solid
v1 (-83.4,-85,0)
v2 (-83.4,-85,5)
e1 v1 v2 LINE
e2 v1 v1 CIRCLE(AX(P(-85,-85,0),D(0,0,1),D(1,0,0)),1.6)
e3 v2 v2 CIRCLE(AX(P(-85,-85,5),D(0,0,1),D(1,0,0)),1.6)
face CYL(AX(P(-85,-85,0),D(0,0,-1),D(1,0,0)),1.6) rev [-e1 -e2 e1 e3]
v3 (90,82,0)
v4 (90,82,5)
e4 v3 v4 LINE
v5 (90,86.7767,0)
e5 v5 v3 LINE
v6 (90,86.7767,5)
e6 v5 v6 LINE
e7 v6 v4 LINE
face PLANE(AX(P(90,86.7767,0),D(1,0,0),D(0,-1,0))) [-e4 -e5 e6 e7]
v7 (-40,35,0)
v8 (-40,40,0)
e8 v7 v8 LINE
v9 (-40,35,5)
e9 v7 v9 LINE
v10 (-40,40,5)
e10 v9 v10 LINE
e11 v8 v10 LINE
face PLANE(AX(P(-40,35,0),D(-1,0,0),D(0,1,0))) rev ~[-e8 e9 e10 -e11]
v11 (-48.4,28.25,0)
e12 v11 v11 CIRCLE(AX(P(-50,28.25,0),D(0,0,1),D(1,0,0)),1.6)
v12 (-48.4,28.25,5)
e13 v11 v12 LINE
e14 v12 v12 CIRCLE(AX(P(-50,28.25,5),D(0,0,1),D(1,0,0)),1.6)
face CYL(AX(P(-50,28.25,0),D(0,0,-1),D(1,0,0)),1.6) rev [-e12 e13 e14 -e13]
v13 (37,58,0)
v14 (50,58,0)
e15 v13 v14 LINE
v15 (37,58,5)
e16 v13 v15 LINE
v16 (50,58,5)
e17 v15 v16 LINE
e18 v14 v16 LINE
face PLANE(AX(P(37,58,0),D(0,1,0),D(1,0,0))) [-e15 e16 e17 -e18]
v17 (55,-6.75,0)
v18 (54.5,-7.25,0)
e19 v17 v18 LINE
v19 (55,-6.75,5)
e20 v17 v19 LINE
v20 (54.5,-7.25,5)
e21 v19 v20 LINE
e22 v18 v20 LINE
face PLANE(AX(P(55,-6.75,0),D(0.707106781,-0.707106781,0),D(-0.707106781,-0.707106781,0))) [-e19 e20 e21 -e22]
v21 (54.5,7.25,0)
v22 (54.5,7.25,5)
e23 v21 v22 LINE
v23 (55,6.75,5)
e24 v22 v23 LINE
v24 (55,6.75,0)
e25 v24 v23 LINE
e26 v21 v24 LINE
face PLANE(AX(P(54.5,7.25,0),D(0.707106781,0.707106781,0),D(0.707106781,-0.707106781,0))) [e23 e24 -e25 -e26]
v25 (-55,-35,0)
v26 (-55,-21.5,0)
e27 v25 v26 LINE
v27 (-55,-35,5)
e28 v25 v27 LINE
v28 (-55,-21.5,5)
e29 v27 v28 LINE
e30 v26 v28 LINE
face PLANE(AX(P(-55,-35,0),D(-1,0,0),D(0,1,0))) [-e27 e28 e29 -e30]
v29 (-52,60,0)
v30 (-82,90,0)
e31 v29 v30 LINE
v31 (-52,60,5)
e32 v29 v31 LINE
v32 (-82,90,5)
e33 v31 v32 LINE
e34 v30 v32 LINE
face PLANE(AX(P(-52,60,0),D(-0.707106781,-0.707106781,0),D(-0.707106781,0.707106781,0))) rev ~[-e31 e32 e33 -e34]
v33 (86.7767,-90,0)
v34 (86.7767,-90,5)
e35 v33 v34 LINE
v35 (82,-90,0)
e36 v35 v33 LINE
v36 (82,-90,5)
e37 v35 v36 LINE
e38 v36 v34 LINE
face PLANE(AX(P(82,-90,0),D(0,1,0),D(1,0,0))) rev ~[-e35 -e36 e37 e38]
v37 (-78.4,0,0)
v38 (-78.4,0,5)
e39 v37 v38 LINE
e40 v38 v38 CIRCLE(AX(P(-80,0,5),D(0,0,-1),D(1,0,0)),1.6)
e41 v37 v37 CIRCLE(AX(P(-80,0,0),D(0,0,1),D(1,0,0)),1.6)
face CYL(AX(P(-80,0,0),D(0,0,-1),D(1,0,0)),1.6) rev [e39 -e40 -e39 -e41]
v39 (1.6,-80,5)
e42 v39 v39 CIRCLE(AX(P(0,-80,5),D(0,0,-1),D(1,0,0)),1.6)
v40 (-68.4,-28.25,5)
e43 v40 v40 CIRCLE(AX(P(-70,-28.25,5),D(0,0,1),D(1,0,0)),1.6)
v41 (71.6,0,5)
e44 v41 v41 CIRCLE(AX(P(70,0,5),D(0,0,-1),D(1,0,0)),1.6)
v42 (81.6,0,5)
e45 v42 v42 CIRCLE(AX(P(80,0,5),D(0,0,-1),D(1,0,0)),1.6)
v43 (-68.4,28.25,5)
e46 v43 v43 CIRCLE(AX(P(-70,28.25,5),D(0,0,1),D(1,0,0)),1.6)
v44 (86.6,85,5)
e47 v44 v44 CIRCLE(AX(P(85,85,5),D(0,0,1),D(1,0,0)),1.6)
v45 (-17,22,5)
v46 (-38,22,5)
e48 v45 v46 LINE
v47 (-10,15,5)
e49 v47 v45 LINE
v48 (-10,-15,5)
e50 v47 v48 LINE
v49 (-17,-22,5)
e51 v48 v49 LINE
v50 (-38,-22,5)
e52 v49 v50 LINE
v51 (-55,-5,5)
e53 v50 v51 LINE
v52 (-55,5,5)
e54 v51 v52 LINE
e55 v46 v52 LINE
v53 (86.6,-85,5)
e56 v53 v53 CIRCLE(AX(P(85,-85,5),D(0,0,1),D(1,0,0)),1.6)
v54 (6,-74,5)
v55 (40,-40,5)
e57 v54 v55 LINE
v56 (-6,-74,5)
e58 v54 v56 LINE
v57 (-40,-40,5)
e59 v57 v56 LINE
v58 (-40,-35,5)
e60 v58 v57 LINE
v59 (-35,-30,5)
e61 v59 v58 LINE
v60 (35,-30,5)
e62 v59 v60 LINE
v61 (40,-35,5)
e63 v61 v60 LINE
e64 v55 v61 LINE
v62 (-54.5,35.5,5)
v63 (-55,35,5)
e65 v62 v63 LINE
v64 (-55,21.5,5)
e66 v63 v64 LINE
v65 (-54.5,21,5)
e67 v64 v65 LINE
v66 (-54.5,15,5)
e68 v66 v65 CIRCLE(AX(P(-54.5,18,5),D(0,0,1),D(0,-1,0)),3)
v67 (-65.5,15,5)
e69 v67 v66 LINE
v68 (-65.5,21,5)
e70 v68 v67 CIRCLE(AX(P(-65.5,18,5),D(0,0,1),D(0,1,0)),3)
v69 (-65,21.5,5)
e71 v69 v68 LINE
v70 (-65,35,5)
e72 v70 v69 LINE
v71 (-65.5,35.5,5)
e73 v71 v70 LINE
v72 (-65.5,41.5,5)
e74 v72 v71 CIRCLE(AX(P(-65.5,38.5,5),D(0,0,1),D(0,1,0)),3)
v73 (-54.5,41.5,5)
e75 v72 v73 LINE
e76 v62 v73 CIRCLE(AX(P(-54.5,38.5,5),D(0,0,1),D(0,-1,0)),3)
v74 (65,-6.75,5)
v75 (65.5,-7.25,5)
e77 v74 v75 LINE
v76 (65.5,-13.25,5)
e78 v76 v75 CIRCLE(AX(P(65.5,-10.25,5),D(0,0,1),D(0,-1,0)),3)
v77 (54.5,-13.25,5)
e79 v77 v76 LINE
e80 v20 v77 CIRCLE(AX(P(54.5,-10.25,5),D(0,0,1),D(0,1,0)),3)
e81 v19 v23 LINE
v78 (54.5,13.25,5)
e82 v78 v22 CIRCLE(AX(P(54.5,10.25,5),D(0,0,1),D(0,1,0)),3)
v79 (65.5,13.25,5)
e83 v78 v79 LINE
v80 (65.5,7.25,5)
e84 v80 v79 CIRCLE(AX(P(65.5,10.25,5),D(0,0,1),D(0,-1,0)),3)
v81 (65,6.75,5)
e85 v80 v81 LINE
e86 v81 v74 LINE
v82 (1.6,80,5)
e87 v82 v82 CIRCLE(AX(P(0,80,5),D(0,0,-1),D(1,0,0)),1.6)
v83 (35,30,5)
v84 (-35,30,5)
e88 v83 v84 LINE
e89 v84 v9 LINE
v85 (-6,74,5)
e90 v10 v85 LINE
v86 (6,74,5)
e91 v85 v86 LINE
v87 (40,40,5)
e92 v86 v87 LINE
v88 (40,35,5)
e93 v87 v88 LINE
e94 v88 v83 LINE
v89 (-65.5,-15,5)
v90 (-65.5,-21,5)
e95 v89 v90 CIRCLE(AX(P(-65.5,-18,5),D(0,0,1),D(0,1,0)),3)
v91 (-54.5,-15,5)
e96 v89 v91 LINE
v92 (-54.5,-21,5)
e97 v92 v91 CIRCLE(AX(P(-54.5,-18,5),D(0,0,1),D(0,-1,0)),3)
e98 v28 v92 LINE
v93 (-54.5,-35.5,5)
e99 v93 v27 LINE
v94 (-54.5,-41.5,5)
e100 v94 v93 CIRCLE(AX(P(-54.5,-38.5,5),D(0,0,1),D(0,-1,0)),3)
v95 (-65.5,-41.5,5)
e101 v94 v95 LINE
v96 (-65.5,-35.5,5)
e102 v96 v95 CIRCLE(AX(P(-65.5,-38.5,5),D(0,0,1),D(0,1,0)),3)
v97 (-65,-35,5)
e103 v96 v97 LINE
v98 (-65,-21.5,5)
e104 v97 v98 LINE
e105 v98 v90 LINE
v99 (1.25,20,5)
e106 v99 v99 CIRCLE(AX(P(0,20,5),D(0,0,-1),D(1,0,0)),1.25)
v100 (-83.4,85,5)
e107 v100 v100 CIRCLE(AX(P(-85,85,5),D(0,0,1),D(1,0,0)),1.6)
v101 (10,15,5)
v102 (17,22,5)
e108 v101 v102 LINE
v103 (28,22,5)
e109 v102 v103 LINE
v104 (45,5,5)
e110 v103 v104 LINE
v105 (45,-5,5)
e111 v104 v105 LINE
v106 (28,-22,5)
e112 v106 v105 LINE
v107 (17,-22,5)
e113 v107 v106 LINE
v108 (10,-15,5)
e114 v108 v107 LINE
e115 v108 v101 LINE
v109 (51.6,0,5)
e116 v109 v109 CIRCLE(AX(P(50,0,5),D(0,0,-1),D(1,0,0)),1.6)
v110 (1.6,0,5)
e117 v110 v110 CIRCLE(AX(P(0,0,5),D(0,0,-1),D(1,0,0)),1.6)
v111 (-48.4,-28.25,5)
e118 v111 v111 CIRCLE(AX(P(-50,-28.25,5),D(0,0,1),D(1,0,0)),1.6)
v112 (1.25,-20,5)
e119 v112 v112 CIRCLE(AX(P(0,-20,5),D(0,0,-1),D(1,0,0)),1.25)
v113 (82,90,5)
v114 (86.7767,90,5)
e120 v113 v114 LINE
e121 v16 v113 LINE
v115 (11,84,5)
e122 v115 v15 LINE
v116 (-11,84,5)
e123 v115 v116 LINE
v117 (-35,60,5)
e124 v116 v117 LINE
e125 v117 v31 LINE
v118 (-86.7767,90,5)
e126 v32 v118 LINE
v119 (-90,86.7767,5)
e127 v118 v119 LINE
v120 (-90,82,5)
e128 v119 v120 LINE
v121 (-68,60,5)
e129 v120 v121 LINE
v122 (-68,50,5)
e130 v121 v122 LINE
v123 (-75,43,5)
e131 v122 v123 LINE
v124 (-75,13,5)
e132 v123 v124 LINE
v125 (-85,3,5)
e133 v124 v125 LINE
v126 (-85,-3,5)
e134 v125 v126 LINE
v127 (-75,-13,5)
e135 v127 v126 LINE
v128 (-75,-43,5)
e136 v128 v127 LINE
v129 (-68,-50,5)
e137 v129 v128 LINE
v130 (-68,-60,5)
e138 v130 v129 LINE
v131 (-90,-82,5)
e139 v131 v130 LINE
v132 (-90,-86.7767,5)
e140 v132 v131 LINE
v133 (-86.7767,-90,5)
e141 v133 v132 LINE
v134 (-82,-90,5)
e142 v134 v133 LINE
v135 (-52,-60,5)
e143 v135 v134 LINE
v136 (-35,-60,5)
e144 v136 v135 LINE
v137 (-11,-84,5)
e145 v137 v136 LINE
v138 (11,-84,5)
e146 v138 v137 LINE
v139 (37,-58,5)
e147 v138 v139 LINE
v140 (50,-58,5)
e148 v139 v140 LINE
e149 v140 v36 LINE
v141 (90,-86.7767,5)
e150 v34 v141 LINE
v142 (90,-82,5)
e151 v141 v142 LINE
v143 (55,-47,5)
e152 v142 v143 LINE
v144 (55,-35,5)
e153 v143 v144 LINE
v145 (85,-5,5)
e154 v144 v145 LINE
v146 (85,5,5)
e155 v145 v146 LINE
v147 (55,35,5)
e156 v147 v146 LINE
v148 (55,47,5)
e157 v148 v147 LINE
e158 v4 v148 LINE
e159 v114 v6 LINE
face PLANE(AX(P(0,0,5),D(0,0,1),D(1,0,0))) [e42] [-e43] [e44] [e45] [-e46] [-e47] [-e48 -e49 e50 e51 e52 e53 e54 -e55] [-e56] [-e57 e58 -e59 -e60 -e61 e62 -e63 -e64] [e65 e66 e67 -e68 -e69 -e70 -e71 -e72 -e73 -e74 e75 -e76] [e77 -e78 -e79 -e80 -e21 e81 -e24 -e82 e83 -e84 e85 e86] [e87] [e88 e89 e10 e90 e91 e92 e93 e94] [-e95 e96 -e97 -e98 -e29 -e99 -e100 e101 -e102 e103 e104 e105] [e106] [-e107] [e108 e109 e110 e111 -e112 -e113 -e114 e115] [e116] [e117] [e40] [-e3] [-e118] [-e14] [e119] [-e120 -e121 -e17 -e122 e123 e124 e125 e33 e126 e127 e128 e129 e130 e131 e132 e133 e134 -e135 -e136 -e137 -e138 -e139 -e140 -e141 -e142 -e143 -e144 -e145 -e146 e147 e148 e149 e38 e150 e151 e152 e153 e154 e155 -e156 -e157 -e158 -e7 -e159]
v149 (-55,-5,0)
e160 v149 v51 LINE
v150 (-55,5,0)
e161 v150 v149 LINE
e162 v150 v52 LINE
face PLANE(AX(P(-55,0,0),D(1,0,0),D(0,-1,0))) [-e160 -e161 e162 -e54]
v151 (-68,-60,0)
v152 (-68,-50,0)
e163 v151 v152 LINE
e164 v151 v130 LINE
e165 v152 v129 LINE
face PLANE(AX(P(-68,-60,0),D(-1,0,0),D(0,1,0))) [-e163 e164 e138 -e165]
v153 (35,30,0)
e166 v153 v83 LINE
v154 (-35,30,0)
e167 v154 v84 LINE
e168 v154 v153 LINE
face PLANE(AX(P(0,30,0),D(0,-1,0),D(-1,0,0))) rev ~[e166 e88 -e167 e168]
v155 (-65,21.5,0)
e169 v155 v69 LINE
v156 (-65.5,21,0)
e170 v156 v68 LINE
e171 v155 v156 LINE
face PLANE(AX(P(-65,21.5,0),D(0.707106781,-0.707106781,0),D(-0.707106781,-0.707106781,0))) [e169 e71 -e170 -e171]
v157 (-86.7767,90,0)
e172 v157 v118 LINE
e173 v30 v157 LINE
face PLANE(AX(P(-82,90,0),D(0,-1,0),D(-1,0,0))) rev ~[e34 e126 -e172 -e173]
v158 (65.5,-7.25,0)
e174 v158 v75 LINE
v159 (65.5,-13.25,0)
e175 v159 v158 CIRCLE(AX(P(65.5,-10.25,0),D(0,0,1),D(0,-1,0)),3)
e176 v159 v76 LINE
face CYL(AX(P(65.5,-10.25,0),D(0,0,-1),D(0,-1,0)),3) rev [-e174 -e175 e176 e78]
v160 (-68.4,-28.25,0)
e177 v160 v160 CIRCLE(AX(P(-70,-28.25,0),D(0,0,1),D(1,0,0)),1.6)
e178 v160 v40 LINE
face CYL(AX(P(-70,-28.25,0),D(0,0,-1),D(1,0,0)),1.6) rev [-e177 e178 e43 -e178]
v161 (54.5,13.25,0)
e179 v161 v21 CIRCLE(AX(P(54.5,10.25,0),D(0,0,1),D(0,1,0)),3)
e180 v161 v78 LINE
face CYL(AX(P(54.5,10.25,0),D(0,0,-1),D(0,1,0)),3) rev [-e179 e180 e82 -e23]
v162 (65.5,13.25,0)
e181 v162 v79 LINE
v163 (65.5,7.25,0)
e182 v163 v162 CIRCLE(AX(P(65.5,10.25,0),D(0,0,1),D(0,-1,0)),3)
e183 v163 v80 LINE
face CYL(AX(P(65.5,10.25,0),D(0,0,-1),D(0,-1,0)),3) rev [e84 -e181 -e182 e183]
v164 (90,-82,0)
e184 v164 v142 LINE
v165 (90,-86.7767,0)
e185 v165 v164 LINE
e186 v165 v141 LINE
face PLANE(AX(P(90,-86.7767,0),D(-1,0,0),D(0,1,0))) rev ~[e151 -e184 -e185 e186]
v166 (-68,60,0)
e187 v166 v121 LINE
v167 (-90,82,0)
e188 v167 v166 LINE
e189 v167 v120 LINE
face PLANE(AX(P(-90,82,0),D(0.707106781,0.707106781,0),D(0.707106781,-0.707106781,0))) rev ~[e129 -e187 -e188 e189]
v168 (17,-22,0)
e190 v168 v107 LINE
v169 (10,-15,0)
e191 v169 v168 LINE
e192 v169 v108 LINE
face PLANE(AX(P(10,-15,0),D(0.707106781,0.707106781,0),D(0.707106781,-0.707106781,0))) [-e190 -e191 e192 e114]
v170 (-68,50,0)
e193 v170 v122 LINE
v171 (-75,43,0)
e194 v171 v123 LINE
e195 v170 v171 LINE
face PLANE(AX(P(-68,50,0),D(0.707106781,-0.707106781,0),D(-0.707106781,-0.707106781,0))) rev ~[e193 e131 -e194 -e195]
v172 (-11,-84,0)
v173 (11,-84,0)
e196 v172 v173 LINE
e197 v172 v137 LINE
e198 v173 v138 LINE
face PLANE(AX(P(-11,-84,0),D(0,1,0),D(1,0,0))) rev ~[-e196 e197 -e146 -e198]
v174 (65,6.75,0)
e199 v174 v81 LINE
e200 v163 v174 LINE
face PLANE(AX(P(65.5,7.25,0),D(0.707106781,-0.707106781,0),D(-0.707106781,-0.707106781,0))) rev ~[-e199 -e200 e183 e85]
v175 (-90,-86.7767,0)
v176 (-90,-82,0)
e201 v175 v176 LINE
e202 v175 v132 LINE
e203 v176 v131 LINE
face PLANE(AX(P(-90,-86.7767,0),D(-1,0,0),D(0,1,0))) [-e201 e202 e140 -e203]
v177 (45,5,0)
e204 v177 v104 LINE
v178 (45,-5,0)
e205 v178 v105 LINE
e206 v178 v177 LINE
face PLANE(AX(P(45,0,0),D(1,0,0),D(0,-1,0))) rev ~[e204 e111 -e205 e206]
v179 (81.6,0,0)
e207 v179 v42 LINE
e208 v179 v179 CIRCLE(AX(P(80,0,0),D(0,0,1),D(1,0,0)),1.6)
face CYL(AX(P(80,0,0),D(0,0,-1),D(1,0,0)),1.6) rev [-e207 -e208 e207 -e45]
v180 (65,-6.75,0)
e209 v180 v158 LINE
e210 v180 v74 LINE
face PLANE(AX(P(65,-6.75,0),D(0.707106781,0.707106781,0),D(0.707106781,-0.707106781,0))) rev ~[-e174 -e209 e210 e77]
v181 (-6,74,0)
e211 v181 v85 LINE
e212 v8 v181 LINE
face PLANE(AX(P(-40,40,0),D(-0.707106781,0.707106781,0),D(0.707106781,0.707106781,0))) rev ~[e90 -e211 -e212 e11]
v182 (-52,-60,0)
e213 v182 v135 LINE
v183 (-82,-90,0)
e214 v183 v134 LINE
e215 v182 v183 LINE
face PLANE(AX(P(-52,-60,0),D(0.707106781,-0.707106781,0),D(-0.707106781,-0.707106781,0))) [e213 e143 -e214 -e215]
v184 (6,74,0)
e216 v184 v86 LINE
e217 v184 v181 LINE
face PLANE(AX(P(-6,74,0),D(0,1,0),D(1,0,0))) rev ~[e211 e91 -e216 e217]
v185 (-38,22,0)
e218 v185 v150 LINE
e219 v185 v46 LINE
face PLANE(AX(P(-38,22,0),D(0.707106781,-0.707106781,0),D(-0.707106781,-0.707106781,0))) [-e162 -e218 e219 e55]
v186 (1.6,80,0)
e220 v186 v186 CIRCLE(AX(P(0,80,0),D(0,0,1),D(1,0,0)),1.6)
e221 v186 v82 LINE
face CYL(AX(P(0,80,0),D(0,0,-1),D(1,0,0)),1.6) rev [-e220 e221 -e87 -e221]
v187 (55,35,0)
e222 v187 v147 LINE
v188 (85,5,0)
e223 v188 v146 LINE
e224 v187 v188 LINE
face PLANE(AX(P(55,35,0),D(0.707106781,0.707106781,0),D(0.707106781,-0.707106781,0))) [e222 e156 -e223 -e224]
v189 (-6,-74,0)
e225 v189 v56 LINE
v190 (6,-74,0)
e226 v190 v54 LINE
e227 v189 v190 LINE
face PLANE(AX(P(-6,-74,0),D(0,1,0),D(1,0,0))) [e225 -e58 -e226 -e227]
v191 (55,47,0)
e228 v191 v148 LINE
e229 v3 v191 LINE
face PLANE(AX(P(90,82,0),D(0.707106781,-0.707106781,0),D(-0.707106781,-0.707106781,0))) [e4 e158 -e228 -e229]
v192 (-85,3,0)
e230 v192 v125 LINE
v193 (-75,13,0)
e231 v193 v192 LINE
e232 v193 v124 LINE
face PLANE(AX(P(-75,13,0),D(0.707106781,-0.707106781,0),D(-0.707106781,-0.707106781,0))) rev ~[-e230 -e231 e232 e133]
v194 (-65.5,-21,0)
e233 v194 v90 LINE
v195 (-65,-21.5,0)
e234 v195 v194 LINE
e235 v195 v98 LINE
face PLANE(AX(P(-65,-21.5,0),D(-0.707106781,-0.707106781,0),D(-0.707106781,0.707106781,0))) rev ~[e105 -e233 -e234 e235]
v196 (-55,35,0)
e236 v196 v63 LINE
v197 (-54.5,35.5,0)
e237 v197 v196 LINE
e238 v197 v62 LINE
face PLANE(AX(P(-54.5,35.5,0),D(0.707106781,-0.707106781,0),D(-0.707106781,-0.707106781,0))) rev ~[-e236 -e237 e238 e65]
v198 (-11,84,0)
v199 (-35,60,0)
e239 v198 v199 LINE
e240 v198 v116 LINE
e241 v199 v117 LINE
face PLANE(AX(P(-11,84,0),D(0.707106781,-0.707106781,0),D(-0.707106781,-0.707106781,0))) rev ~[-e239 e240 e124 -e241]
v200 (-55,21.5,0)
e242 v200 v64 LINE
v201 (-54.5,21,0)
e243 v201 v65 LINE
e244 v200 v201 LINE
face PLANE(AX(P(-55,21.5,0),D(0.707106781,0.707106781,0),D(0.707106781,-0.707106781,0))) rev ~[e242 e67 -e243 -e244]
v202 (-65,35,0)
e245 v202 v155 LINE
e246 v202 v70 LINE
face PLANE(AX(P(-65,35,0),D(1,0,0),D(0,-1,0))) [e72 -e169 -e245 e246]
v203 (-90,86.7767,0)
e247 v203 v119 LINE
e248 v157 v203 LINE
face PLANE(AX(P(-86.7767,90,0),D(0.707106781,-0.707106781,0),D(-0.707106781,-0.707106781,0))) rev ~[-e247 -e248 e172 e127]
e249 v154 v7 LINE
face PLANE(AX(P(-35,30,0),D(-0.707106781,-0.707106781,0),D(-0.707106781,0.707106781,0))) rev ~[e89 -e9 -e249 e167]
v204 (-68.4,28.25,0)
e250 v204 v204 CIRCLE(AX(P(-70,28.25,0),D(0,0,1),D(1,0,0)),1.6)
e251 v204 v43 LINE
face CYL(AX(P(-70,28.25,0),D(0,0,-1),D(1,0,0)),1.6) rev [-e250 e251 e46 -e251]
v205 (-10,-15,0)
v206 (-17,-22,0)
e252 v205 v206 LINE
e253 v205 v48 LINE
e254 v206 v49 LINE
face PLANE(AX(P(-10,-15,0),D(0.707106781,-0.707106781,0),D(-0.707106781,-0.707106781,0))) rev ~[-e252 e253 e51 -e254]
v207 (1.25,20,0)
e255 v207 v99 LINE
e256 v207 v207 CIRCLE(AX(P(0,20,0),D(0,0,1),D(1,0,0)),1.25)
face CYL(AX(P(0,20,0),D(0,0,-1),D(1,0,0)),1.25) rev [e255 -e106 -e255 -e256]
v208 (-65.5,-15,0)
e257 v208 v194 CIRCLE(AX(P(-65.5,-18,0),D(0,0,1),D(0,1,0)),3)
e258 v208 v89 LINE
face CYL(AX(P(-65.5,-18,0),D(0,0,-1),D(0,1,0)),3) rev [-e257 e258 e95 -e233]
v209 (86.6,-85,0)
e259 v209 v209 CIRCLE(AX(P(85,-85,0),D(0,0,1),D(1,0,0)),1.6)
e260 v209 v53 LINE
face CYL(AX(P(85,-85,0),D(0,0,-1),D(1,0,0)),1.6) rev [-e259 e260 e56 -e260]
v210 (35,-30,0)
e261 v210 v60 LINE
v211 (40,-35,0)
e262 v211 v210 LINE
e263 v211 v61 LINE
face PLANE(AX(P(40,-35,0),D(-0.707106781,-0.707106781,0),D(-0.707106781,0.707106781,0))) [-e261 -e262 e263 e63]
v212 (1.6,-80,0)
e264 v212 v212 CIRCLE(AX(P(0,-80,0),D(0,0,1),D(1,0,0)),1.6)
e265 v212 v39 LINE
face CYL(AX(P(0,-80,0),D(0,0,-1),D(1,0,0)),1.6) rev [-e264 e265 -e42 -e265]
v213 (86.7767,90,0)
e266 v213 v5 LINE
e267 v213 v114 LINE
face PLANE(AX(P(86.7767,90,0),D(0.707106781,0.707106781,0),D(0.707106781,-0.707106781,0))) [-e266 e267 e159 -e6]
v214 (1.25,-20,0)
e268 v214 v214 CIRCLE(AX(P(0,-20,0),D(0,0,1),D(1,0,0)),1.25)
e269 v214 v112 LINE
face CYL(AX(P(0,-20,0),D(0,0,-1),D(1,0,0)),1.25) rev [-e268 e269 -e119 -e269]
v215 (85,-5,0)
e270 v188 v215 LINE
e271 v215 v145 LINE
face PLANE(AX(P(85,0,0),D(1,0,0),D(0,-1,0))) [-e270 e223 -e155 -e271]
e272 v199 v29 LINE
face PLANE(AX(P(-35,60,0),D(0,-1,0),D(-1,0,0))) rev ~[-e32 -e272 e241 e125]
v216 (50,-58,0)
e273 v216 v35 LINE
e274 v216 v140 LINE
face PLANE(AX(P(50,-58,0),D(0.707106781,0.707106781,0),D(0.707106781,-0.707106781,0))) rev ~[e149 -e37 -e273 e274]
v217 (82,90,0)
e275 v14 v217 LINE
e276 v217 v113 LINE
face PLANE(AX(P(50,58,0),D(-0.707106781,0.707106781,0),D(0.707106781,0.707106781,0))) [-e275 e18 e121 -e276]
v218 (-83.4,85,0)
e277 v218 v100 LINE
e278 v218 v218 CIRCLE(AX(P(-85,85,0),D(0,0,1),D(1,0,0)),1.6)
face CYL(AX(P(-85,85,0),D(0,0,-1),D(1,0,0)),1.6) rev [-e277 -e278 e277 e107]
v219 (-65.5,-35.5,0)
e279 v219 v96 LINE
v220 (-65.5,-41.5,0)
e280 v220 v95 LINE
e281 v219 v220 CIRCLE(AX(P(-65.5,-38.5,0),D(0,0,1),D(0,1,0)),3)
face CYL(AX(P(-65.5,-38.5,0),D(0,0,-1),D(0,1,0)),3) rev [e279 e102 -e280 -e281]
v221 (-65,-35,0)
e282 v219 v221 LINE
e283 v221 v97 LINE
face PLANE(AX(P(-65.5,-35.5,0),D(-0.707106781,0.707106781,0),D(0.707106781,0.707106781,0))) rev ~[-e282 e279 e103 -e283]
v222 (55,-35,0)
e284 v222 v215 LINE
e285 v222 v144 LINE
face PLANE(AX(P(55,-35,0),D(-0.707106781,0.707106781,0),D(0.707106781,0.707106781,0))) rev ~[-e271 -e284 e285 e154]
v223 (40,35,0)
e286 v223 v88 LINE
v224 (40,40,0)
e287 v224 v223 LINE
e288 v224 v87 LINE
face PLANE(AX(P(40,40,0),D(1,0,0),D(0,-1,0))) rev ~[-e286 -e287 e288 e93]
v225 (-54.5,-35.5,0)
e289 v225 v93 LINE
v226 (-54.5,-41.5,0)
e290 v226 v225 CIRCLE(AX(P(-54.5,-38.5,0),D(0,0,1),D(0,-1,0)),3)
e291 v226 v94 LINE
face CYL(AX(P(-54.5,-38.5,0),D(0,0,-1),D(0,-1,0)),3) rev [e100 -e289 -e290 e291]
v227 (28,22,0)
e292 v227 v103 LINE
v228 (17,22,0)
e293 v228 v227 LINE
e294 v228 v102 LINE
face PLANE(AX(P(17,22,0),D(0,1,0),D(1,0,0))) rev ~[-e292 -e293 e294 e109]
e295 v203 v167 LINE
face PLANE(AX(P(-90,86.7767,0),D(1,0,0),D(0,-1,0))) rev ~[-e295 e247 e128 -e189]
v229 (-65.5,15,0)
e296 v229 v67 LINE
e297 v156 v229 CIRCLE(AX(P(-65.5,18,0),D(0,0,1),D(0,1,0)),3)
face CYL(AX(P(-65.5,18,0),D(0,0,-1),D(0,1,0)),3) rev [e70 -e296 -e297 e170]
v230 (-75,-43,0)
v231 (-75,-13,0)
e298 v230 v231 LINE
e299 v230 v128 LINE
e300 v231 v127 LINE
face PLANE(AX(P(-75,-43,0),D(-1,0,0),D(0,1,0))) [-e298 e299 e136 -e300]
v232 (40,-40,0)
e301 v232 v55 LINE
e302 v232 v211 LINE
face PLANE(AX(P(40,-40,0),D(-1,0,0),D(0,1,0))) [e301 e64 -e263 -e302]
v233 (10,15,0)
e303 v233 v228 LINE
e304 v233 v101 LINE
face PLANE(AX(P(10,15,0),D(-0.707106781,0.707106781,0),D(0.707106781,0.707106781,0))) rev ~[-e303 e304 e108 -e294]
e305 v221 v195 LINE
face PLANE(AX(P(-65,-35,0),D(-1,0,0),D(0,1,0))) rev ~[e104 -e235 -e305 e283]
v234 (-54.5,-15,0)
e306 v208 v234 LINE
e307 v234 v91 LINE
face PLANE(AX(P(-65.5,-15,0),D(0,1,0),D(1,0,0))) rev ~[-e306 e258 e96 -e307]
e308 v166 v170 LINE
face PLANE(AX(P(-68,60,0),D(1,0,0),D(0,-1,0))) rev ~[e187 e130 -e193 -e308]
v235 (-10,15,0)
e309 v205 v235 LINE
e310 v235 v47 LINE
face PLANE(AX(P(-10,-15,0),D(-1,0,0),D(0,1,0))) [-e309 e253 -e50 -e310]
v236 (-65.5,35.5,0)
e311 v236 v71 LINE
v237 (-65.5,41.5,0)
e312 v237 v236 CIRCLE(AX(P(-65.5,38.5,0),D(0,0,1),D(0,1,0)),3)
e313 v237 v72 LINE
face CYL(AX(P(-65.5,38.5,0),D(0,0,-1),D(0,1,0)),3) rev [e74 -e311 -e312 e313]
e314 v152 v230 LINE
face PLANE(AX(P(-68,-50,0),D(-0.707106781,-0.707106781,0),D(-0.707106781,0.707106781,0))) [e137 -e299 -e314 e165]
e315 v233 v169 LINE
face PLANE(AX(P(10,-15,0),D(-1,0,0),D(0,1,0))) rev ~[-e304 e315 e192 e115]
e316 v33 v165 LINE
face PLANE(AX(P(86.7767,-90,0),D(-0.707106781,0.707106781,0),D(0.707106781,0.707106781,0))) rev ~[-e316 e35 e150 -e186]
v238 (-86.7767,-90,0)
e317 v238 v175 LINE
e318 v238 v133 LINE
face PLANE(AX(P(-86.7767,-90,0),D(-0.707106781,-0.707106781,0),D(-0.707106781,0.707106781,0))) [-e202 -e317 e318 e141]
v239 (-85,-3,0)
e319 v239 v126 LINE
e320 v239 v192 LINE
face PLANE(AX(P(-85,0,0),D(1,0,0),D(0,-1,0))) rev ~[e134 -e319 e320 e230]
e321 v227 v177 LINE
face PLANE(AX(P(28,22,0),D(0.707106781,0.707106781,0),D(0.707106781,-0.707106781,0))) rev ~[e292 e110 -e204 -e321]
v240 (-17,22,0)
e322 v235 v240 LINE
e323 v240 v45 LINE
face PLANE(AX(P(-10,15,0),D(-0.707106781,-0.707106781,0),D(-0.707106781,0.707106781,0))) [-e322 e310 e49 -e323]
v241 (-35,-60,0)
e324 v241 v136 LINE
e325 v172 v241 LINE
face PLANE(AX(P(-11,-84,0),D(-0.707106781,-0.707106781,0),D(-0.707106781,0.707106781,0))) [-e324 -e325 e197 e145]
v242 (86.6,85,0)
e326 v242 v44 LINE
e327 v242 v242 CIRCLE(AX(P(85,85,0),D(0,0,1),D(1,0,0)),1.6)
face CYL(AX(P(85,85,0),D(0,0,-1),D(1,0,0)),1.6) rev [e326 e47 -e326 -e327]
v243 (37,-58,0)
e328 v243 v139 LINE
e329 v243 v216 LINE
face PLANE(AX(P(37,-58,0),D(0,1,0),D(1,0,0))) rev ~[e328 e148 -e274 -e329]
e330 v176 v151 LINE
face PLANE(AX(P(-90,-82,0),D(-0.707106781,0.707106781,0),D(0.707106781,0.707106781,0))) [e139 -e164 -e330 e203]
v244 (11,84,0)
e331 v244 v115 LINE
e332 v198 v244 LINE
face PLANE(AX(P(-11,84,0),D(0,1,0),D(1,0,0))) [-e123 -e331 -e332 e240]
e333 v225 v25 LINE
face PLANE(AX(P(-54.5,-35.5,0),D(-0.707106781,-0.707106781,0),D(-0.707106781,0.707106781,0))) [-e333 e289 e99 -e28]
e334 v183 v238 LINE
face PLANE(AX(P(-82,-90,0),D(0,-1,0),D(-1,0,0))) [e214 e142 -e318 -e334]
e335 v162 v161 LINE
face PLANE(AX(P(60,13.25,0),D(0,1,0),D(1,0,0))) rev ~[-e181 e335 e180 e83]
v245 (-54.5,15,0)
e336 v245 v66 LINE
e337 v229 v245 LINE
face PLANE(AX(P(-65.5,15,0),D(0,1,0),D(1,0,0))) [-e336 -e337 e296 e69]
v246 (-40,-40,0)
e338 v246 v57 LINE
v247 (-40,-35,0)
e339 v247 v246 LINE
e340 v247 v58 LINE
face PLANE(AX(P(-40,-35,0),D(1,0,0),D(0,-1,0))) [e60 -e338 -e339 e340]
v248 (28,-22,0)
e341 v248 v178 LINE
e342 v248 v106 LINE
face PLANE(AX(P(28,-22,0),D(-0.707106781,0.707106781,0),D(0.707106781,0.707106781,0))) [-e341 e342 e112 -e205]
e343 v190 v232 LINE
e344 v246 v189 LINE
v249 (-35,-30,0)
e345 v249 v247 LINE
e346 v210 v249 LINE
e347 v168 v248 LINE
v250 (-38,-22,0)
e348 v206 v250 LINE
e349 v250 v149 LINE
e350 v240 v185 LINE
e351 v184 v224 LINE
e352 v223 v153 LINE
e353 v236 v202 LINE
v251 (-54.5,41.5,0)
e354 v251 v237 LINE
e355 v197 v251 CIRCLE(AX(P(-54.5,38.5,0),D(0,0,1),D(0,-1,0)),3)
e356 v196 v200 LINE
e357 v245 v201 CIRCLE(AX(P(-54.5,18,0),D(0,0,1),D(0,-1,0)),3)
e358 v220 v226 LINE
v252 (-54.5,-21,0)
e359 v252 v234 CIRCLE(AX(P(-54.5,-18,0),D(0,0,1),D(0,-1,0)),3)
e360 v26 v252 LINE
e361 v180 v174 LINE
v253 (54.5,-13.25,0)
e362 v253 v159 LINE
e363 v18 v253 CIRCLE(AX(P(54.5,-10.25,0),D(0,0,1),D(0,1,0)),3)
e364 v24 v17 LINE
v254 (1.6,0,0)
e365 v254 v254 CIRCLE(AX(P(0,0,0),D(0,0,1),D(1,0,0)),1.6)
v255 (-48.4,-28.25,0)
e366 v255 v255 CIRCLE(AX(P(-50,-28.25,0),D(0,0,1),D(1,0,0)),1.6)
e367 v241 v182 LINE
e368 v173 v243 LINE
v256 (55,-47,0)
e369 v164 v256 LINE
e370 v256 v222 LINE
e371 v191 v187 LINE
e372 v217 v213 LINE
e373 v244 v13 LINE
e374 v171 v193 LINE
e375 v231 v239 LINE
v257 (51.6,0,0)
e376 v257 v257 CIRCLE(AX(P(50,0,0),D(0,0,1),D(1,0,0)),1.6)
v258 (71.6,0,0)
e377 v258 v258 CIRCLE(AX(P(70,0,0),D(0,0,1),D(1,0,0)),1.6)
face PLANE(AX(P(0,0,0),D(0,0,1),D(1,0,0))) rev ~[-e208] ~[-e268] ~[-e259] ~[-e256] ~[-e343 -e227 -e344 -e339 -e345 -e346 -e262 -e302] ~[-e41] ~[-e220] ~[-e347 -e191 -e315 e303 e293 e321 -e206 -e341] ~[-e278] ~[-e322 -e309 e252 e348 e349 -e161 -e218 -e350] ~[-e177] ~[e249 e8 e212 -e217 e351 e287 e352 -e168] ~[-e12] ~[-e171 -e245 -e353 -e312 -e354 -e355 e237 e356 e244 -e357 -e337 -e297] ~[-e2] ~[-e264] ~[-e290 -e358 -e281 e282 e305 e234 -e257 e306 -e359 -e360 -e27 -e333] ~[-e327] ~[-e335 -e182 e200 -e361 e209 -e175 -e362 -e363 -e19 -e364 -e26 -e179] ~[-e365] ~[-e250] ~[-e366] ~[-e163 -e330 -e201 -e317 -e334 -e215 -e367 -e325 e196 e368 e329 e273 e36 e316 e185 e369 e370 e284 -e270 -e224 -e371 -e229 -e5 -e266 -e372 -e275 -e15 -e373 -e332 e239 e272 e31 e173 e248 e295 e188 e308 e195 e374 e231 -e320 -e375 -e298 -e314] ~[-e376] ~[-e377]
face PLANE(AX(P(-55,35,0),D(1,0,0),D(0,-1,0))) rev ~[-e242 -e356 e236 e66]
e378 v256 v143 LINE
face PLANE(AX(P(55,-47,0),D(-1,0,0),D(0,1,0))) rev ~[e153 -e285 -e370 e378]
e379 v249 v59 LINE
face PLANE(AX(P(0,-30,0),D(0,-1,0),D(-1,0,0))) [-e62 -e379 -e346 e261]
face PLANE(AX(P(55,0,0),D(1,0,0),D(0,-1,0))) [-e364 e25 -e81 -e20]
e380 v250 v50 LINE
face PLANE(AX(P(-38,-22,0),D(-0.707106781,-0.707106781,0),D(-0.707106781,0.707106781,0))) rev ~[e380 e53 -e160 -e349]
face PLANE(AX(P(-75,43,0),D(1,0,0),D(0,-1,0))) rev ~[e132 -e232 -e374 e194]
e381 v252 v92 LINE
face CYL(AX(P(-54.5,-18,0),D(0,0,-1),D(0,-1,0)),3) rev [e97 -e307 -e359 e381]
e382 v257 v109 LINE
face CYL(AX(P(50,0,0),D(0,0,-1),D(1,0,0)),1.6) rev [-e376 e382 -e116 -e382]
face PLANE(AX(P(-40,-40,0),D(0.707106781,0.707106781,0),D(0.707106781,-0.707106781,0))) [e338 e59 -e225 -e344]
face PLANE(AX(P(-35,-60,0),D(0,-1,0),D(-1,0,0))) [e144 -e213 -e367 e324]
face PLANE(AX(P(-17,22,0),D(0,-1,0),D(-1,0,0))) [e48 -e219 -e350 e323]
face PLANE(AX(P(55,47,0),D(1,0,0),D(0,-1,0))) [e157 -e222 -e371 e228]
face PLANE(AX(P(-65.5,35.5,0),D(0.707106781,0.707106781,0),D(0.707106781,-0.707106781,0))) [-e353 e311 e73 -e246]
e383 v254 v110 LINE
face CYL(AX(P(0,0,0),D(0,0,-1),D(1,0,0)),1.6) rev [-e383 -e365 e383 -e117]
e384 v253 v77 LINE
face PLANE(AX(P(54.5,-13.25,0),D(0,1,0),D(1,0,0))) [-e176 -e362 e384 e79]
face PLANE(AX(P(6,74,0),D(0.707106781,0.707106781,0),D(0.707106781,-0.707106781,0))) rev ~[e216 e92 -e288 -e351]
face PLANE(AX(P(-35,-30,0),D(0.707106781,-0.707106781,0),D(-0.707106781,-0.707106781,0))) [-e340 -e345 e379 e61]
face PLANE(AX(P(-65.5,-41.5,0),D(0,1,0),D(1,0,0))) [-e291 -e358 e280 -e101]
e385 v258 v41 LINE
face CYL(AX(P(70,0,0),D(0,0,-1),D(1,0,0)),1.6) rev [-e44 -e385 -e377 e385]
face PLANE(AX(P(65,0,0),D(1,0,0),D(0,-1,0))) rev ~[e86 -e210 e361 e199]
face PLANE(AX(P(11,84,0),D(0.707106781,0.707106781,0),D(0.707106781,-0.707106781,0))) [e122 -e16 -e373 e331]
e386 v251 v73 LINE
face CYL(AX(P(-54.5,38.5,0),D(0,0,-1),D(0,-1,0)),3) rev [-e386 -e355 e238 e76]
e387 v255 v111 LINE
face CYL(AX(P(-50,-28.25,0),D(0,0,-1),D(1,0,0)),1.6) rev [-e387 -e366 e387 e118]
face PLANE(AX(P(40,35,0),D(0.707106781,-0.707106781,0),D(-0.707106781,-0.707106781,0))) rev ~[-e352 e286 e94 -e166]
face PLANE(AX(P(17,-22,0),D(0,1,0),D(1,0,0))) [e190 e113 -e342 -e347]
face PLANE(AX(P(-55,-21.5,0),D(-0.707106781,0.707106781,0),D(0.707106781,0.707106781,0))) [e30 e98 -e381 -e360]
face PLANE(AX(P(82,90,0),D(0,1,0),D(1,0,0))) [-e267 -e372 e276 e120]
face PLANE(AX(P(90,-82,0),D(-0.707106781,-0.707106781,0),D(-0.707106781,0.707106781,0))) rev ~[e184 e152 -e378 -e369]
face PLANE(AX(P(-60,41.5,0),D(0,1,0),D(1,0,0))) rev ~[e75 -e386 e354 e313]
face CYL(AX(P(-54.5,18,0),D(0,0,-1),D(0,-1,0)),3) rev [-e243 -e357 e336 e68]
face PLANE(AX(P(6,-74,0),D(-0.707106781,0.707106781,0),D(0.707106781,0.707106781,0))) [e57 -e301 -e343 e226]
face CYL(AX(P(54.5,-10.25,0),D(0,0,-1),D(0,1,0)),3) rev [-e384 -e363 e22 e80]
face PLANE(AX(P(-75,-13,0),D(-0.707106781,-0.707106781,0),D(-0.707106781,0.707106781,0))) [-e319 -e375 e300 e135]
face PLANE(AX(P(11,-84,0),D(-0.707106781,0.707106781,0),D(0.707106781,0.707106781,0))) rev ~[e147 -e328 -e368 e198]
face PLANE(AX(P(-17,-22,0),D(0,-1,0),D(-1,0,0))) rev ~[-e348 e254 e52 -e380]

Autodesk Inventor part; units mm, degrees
ref_plane "YZ Plane" through (0, 0, 0) normal (1, 0, 0) x (0, 1, 0)
sketch "Náčrt1" plane through (0, 0, 0) normal (0, 0, 1) x (1, 0, 0)
  line L0 (0, -126) -> (0, 126) projected
  line L1 (-126, 0) -> (126, 0) projected
  line L2 (-11, 84) -> (11, 84)
  line L3 (11, 84) -> (37, 58)
  line L4 (37, 58) -> (50, 58)
  line L5 (50, 58) -> (82, 90)
  line L6 (90, 82) -> (55, 47)
  line L7 (55, 47) -> (55, 35)
  line L8 (55, 35) -> (85, 5)
  line L9 (85, 5) -> (85, -5)
  circle A0 centre (85, 85) radius 1.6
  line L10 (86.7767, 90) -> (90, 86.7767)
  line L11 (82, 90) -> (86.7767, 90)
  line L12 (90, 86.7767) -> (90, 82)
  line L13 (-11, 84) -> (-35, 60)
  line L14 (-35, 60) -> (-52, 60)
  line L15 (-52, 60) -> (-82, 90)
  line L16 (-82, 90) -> (-86.7767, 90)
  line L17 (-86.7767, 90) -> (-90, 86.7767)
  line L18 (-90, 86.7767) -> (-90, 82)
  line L19 (-90, 82) -> (-68, 60)
  line L20 (-68, 60) -> (-68, 50)
  circle A1 centre (-85, 85) radius 1.6
  line L21 (-68, 50) -> (-75, 43)
  line L22 (-75, 43) -> (-75, 13)
  line L23 (-75, 13) -> (-85, 3)
  line L24 (-85, 3) -> (-85, -3)
  line L25 (-6, 74) -> (6, 74)
  line L26 (6, 74) -> (40, 40)
  line L27 (40, 40) -> (40, 35)
  line L28 (40, 35) -> (35, 30)
  line L29 (35, 30) -> (-35, 30)
  line L30 (-35, 30) -> (-40, 35)
  line L31 (-40, 35) -> (-40, 40)
  line L32 (-40, 40) -> (-6, 74)
  circle A2 centre (0, 80) radius 1.6
  line L33 (-10, -15) -> (-10, 15)
  line L34 (-10, 15) -> (-17, 22)
  line L35 (-17, 22) -> (-38, 22)
  line L36 (-38, 22) -> (-55, 5)
  line L37 (-55, 5) -> (-55, -5)
  line L38 (10, -15) -> (10, 15)
  line L39 (10, 15) -> (17, 22)
  line L40 (17, 22) -> (28, 22)
  line L41 (28, 22) -> (45, 5)
  line L42 (45, 5) -> (45, -5)
  circle A3 centre (0, 20) radius 1.25
  circle A4 centre (0, 0) radius 1.6
  line L43 (-65, 35) -> (-65, 21.5)
  line L44 (-55, 35) -> (-55, 21.5)
  line L45 (-65.5, 41.5) -> (-54.5, 41.5)
  arc A5 (-65.5, 41.5) -> (-65.5, 35.5) centre (-65.5, 38.5) ccw
  arc A6 (-54.5, 35.5) -> (-54.5, 41.5) centre (-54.5, 38.5) ccw
  line L46 (-65.5, 35.5) -> (-65, 35)
  line L47 (-54.5, 35.5) -> (-55, 35)
  line L48 (-65, 21.5) -> (-65.5, 21)
  line L49 (-55, 21.5) -> (-54.5, 21)
  line L50 (-65.5, 15) -> (-54.5, 15)
  arc A7 (-65.5, 21) -> (-65.5, 15) centre (-65.5, 18) ccw
  arc A8 (-54.5, 15) -> (-54.5, 21) centre (-54.5, 18) ccw
  circle A9 centre (-70, 28.25) radius 1.6
  circle A10 centre (-50, 28.25) radius 1.6
  line L51 (-60, 41.5) -> (-60, 37.7564)
  line L52 (55, 6.75) -> (55, -6.75)
  line L53 (65, 6.75) -> (65, -6.75)
  line L54 (54.5, 13.25) -> (65.5, 13.25)
  arc A11 (54.5, 13.25) -> (54.5, 7.25) centre (54.5, 10.25) ccw
  arc A12 (65.5, 7.25) -> (65.5, 13.25) centre (65.5, 10.25) ccw
  line L55 (54.5, 7.25) -> (55, 6.75)
  line L56 (65.5, 7.25) -> (65, 6.75)
  line L57 (55, -6.75) -> (54.5, -7.25)
  line L58 (65, -6.75) -> (65.5, -7.25)
  line L59 (54.5, -13.25) -> (65.5, -13.25)
  arc A13 (54.5, -7.25) -> (54.5, -13.25) centre (54.5, -10.25) ccw
  arc A14 (65.5, -13.25) -> (65.5, -7.25) centre (65.5, -10.25) ccw
  circle A15 centre (50, 0) radius 1.6
  circle A16 centre (70, 0) radius 1.6
  line L60 (60, 13.25) -> (60, 9.5064)
  circle A17 centre (-80, 0) radius 1.6
  circle A18 centre (80, 0) radius 1.6
  line L61 (-11, -84) -> (11, -84)
  line L62 (11, -84) -> (37, -58)
  line L63 (37, -58) -> (50, -58)
  line L64 (50, -58) -> (82, -90)
  line L65 (90, -82) -> (55, -47)
  line L66 (55, -47) -> (55, -35)
  line L67 (55, -35) -> (85, -5)
  circle A19 centre (85, -85) radius 1.6
  line L68 (86.7767, -90) -> (90, -86.7767)
  line L69 (82, -90) -> (86.7767, -90)
  line L70 (90, -86.7767) -> (90, -82)
  line L71 (-11, -84) -> (-35, -60)
  line L72 (-35, -60) -> (-52, -60)
  line L73 (-52, -60) -> (-82, -90)
  line L74 (-82, -90) -> (-86.7767, -90)
  line L75 (-86.7767, -90) -> (-90, -86.7767)
  line L76 (-90, -86.7767) -> (-90, -82)
  line L77 (-90, -82) -> (-68, -60)
  line L78 (-68, -60) -> (-68, -50)
  circle A20 centre (-85, -85) radius 1.6
  line L79 (-68, -50) -> (-75, -43)
  line L80 (-75, -43) -> (-75, -13)
  line L81 (-75, -13) -> (-85, -3)
  line L82 (-6, -74) -> (6, -74)
  line L83 (6, -74) -> (40, -40)
  line L84 (40, -40) -> (40, -35)
  line L85 (40, -35) -> (35, -30)
  line L86 (35, -30) -> (-35, -30)
  line L87 (-35, -30) -> (-40, -35)
  line L88 (-40, -35) -> (-40, -40)
  line L89 (-40, -40) -> (-6, -74)
  circle A21 centre (0, -80) radius 1.6
  line L90 (-10, -15) -> (-17, -22)
  line L91 (-17, -22) -> (-38, -22)
  line L92 (-38, -22) -> (-55, -5)
  line L93 (10, -15) -> (17, -22)
  line L94 (17, -22) -> (28, -22)
  line L95 (28, -22) -> (45, -5)
  circle A22 centre (0, -20) radius 1.25
  line L96 (-65, -35) -> (-65, -21.5)
  line L97 (-55, -35) -> (-55, -21.5)
  line L98 (-65.5, -41.5) -> (-54.5, -41.5)
  arc A23 (-65.5, -35.5) -> (-65.5, -41.5) centre (-65.5, -38.5) ccw
  arc A24 (-54.5, -41.5) -> (-54.5, -35.5) centre (-54.5, -38.5) ccw
  line L99 (-65.5, -35.5) -> (-65, -35)
  line L100 (-54.5, -35.5) -> (-55, -35)
  line L101 (-65, -21.5) -> (-65.5, -21)
  line L102 (-55, -21.5) -> (-54.5, -21)
  arc A25 (-65.5, -15) -> (-65.5, -21) centre (-65.5, -18) ccw
  arc A26 (-54.5, -21) -> (-54.5, -15) centre (-54.5, -18) ccw
  circle A27 centre (-70, -28.25) radius 1.6
  circle A28 centre (-50, -28.25) radius 1.6
  line L103 (-60, -41.5) -> (-60, -37.7564)
  line L104 (-65.5, -15) -> (-54.5, -15)
  circle A29 centre (-70, 28.25) radius 1.6
  circle A30 centre (-50, 28.25) radius 1.6
  circle A31 centre (50, 0) radius 1.6
  circle A32 centre (70, 0) radius 1.6
  circle A33 centre (-70, -28.25) radius 1.6
  circle A34 centre (-50, -28.25) radius 1.6
  point P0 (-10, 0)
  point P1 (10, 0)
  point P2 (-55, 28.25)
  point P3 (65, 0)
  point P4 (-55, -28.25)
  dimension "d0" = 84
  dimension "d1" = 85
  dimension "d2" = 85
  dimension "d5" = 45
  dimension "d6" = 3.2
  dimension "d8" = 90
  dimension "d9" = 90
  dimension "d11" = 125
  dimension "d13" = 22
  dimension "d14" = 13
  dimension "d15" = 12
  dimension "d16" = 10
  dimension "d17" = 17
  dimension "d19" = 7
  dimension "d20" = 10
  dimension "d21" = 6
  dimension "d22" = 80
  dimension "d23" = 44
  dimension "d24" = 5
  dimension "d25" = 10
  dimension "d26" = 80
  dimension "d27" = 17
  dimension "d28" = 7
  dimension "d29" = 10
  dimension "d30" = 45
  dimension "d31" = 22
  dimension "d32" = 35
  dimension "d33" = 20
  dimension "d34" = 10
  dimension "d35" = 0.5
  dimension "d36" = 3
  dimension "d37" = 26.5
  dimension "d38" = 20
  dimension "d39" = 55
  dimension "d40" = 28.25
  dimension "d41" = 10
  dimension "d42" = 0.5
  dimension "d43" = 3
  dimension "d44" = 26.5
  dimension "d45" = 20
  dimension "d46" = 55
  dimension "d47" = 80
  dimension "d53" = 3.2
  dimension "d76" = 2.5
  dimension "d77" = 82
  dimension "d78" = 82
extrude "Vysunutí1" add sketch "Náčrt1" along normal blind 5 contours L61 L71 L72 L73 L74 L75 L76 L77 L78 L79 L80 L81 L24 L1 A17 L37 L92 L91 L90 L33 A4 L0 A22 L86 L87 L88 L89 L82 A21 | L0 A21 L82 L83 L84 L85 L86 A22 A4 L1 L38 L93 L94 L95 L42 A15 L52 L57 A13 L59 A14 L58 L53 A16 A18 L9 L67 L66 L65 L70 L68 L69 L64 L63 L62 L61 | L1 L33 L34 L35 L36 L37 A17 L24 L23 L22 L21 L20 L19 L18 L17 L16 L15 L14 L13 L2 L0 A2 L25 L32 L31 L30 L29 A3 A4 | A4 L0 A3 L29 L28 L27 L26 L25 A2 L2 L3 L4 L5 L11 L10 L12 L6 L7 L8 L9 L1 A18 A16 L53 L56 A12 L54 A11 L55 L52 A15 L42 L41 L40 L39 L38
sketch "Náčrt2" plane through (0, 0, 0) normal (0, 1, 0) x (-1, 0, 0)
  circle A0 centre (-60, -5.5902) radius 7.5
  circle A1 centre (60, -5.5902) radius 7.5
  point P0 (0, 0)
  point P1 (55, 0)
  point P2 (65, 0)
  point P3 (-55, 0)
  point P4 (-65, 0)
  dimension "d50" = 15
ref_plane "Pracovní rovina1" through (0, 28.25, 0) normal (0, 1, 0) x (-1, 0, 0)
ref_plane "Pracovní rovina2" through (0, -28.25, 0) normal (0, 1, 0) x (-1, 0, 0)
thread "Závit1" size "M3x0.5" class "6H" standard "ANSI Metric M Profile" full length
thread "Závit2" size "M3x0.5" class "6H" standard "ANSI Metric M Profile" full length
thread "Závit3" size "M3x0.5" class "6H" standard "ANSI Metric M Profile" full length
thread "Závit4" size "M3x0.5" class "6H" standard "ANSI Metric M Profile" full length
thread "Závit5" size "M3x0.5" class "6H" standard "ANSI Metric M Profile" full length
thread "Závit6" size "M3x0.5" class "6H" standard "ANSI Metric M Profile" full length
thread "Závit7" size "M3x0.5" class "6H" standard "ANSI Metric M Profile" full length
thread "Závit8" size "M3x0.5" class "6H" standard "ANSI Metric M Profile" full length
thread "Závit9" size "M3x0.5" class "6H" standard "ANSI Metric M Profile" full length
thread "Závit10" size "M3x0.5" class "6H" standard "ANSI Metric M Profile" full length
thread "Závit11" size "M3x0.5" class "6H" standard "ANSI Metric M Profile" full length
equation "\"d2\" = d1"
equation "\"d9\" = d8"
equation "\"d46\" = d39"
